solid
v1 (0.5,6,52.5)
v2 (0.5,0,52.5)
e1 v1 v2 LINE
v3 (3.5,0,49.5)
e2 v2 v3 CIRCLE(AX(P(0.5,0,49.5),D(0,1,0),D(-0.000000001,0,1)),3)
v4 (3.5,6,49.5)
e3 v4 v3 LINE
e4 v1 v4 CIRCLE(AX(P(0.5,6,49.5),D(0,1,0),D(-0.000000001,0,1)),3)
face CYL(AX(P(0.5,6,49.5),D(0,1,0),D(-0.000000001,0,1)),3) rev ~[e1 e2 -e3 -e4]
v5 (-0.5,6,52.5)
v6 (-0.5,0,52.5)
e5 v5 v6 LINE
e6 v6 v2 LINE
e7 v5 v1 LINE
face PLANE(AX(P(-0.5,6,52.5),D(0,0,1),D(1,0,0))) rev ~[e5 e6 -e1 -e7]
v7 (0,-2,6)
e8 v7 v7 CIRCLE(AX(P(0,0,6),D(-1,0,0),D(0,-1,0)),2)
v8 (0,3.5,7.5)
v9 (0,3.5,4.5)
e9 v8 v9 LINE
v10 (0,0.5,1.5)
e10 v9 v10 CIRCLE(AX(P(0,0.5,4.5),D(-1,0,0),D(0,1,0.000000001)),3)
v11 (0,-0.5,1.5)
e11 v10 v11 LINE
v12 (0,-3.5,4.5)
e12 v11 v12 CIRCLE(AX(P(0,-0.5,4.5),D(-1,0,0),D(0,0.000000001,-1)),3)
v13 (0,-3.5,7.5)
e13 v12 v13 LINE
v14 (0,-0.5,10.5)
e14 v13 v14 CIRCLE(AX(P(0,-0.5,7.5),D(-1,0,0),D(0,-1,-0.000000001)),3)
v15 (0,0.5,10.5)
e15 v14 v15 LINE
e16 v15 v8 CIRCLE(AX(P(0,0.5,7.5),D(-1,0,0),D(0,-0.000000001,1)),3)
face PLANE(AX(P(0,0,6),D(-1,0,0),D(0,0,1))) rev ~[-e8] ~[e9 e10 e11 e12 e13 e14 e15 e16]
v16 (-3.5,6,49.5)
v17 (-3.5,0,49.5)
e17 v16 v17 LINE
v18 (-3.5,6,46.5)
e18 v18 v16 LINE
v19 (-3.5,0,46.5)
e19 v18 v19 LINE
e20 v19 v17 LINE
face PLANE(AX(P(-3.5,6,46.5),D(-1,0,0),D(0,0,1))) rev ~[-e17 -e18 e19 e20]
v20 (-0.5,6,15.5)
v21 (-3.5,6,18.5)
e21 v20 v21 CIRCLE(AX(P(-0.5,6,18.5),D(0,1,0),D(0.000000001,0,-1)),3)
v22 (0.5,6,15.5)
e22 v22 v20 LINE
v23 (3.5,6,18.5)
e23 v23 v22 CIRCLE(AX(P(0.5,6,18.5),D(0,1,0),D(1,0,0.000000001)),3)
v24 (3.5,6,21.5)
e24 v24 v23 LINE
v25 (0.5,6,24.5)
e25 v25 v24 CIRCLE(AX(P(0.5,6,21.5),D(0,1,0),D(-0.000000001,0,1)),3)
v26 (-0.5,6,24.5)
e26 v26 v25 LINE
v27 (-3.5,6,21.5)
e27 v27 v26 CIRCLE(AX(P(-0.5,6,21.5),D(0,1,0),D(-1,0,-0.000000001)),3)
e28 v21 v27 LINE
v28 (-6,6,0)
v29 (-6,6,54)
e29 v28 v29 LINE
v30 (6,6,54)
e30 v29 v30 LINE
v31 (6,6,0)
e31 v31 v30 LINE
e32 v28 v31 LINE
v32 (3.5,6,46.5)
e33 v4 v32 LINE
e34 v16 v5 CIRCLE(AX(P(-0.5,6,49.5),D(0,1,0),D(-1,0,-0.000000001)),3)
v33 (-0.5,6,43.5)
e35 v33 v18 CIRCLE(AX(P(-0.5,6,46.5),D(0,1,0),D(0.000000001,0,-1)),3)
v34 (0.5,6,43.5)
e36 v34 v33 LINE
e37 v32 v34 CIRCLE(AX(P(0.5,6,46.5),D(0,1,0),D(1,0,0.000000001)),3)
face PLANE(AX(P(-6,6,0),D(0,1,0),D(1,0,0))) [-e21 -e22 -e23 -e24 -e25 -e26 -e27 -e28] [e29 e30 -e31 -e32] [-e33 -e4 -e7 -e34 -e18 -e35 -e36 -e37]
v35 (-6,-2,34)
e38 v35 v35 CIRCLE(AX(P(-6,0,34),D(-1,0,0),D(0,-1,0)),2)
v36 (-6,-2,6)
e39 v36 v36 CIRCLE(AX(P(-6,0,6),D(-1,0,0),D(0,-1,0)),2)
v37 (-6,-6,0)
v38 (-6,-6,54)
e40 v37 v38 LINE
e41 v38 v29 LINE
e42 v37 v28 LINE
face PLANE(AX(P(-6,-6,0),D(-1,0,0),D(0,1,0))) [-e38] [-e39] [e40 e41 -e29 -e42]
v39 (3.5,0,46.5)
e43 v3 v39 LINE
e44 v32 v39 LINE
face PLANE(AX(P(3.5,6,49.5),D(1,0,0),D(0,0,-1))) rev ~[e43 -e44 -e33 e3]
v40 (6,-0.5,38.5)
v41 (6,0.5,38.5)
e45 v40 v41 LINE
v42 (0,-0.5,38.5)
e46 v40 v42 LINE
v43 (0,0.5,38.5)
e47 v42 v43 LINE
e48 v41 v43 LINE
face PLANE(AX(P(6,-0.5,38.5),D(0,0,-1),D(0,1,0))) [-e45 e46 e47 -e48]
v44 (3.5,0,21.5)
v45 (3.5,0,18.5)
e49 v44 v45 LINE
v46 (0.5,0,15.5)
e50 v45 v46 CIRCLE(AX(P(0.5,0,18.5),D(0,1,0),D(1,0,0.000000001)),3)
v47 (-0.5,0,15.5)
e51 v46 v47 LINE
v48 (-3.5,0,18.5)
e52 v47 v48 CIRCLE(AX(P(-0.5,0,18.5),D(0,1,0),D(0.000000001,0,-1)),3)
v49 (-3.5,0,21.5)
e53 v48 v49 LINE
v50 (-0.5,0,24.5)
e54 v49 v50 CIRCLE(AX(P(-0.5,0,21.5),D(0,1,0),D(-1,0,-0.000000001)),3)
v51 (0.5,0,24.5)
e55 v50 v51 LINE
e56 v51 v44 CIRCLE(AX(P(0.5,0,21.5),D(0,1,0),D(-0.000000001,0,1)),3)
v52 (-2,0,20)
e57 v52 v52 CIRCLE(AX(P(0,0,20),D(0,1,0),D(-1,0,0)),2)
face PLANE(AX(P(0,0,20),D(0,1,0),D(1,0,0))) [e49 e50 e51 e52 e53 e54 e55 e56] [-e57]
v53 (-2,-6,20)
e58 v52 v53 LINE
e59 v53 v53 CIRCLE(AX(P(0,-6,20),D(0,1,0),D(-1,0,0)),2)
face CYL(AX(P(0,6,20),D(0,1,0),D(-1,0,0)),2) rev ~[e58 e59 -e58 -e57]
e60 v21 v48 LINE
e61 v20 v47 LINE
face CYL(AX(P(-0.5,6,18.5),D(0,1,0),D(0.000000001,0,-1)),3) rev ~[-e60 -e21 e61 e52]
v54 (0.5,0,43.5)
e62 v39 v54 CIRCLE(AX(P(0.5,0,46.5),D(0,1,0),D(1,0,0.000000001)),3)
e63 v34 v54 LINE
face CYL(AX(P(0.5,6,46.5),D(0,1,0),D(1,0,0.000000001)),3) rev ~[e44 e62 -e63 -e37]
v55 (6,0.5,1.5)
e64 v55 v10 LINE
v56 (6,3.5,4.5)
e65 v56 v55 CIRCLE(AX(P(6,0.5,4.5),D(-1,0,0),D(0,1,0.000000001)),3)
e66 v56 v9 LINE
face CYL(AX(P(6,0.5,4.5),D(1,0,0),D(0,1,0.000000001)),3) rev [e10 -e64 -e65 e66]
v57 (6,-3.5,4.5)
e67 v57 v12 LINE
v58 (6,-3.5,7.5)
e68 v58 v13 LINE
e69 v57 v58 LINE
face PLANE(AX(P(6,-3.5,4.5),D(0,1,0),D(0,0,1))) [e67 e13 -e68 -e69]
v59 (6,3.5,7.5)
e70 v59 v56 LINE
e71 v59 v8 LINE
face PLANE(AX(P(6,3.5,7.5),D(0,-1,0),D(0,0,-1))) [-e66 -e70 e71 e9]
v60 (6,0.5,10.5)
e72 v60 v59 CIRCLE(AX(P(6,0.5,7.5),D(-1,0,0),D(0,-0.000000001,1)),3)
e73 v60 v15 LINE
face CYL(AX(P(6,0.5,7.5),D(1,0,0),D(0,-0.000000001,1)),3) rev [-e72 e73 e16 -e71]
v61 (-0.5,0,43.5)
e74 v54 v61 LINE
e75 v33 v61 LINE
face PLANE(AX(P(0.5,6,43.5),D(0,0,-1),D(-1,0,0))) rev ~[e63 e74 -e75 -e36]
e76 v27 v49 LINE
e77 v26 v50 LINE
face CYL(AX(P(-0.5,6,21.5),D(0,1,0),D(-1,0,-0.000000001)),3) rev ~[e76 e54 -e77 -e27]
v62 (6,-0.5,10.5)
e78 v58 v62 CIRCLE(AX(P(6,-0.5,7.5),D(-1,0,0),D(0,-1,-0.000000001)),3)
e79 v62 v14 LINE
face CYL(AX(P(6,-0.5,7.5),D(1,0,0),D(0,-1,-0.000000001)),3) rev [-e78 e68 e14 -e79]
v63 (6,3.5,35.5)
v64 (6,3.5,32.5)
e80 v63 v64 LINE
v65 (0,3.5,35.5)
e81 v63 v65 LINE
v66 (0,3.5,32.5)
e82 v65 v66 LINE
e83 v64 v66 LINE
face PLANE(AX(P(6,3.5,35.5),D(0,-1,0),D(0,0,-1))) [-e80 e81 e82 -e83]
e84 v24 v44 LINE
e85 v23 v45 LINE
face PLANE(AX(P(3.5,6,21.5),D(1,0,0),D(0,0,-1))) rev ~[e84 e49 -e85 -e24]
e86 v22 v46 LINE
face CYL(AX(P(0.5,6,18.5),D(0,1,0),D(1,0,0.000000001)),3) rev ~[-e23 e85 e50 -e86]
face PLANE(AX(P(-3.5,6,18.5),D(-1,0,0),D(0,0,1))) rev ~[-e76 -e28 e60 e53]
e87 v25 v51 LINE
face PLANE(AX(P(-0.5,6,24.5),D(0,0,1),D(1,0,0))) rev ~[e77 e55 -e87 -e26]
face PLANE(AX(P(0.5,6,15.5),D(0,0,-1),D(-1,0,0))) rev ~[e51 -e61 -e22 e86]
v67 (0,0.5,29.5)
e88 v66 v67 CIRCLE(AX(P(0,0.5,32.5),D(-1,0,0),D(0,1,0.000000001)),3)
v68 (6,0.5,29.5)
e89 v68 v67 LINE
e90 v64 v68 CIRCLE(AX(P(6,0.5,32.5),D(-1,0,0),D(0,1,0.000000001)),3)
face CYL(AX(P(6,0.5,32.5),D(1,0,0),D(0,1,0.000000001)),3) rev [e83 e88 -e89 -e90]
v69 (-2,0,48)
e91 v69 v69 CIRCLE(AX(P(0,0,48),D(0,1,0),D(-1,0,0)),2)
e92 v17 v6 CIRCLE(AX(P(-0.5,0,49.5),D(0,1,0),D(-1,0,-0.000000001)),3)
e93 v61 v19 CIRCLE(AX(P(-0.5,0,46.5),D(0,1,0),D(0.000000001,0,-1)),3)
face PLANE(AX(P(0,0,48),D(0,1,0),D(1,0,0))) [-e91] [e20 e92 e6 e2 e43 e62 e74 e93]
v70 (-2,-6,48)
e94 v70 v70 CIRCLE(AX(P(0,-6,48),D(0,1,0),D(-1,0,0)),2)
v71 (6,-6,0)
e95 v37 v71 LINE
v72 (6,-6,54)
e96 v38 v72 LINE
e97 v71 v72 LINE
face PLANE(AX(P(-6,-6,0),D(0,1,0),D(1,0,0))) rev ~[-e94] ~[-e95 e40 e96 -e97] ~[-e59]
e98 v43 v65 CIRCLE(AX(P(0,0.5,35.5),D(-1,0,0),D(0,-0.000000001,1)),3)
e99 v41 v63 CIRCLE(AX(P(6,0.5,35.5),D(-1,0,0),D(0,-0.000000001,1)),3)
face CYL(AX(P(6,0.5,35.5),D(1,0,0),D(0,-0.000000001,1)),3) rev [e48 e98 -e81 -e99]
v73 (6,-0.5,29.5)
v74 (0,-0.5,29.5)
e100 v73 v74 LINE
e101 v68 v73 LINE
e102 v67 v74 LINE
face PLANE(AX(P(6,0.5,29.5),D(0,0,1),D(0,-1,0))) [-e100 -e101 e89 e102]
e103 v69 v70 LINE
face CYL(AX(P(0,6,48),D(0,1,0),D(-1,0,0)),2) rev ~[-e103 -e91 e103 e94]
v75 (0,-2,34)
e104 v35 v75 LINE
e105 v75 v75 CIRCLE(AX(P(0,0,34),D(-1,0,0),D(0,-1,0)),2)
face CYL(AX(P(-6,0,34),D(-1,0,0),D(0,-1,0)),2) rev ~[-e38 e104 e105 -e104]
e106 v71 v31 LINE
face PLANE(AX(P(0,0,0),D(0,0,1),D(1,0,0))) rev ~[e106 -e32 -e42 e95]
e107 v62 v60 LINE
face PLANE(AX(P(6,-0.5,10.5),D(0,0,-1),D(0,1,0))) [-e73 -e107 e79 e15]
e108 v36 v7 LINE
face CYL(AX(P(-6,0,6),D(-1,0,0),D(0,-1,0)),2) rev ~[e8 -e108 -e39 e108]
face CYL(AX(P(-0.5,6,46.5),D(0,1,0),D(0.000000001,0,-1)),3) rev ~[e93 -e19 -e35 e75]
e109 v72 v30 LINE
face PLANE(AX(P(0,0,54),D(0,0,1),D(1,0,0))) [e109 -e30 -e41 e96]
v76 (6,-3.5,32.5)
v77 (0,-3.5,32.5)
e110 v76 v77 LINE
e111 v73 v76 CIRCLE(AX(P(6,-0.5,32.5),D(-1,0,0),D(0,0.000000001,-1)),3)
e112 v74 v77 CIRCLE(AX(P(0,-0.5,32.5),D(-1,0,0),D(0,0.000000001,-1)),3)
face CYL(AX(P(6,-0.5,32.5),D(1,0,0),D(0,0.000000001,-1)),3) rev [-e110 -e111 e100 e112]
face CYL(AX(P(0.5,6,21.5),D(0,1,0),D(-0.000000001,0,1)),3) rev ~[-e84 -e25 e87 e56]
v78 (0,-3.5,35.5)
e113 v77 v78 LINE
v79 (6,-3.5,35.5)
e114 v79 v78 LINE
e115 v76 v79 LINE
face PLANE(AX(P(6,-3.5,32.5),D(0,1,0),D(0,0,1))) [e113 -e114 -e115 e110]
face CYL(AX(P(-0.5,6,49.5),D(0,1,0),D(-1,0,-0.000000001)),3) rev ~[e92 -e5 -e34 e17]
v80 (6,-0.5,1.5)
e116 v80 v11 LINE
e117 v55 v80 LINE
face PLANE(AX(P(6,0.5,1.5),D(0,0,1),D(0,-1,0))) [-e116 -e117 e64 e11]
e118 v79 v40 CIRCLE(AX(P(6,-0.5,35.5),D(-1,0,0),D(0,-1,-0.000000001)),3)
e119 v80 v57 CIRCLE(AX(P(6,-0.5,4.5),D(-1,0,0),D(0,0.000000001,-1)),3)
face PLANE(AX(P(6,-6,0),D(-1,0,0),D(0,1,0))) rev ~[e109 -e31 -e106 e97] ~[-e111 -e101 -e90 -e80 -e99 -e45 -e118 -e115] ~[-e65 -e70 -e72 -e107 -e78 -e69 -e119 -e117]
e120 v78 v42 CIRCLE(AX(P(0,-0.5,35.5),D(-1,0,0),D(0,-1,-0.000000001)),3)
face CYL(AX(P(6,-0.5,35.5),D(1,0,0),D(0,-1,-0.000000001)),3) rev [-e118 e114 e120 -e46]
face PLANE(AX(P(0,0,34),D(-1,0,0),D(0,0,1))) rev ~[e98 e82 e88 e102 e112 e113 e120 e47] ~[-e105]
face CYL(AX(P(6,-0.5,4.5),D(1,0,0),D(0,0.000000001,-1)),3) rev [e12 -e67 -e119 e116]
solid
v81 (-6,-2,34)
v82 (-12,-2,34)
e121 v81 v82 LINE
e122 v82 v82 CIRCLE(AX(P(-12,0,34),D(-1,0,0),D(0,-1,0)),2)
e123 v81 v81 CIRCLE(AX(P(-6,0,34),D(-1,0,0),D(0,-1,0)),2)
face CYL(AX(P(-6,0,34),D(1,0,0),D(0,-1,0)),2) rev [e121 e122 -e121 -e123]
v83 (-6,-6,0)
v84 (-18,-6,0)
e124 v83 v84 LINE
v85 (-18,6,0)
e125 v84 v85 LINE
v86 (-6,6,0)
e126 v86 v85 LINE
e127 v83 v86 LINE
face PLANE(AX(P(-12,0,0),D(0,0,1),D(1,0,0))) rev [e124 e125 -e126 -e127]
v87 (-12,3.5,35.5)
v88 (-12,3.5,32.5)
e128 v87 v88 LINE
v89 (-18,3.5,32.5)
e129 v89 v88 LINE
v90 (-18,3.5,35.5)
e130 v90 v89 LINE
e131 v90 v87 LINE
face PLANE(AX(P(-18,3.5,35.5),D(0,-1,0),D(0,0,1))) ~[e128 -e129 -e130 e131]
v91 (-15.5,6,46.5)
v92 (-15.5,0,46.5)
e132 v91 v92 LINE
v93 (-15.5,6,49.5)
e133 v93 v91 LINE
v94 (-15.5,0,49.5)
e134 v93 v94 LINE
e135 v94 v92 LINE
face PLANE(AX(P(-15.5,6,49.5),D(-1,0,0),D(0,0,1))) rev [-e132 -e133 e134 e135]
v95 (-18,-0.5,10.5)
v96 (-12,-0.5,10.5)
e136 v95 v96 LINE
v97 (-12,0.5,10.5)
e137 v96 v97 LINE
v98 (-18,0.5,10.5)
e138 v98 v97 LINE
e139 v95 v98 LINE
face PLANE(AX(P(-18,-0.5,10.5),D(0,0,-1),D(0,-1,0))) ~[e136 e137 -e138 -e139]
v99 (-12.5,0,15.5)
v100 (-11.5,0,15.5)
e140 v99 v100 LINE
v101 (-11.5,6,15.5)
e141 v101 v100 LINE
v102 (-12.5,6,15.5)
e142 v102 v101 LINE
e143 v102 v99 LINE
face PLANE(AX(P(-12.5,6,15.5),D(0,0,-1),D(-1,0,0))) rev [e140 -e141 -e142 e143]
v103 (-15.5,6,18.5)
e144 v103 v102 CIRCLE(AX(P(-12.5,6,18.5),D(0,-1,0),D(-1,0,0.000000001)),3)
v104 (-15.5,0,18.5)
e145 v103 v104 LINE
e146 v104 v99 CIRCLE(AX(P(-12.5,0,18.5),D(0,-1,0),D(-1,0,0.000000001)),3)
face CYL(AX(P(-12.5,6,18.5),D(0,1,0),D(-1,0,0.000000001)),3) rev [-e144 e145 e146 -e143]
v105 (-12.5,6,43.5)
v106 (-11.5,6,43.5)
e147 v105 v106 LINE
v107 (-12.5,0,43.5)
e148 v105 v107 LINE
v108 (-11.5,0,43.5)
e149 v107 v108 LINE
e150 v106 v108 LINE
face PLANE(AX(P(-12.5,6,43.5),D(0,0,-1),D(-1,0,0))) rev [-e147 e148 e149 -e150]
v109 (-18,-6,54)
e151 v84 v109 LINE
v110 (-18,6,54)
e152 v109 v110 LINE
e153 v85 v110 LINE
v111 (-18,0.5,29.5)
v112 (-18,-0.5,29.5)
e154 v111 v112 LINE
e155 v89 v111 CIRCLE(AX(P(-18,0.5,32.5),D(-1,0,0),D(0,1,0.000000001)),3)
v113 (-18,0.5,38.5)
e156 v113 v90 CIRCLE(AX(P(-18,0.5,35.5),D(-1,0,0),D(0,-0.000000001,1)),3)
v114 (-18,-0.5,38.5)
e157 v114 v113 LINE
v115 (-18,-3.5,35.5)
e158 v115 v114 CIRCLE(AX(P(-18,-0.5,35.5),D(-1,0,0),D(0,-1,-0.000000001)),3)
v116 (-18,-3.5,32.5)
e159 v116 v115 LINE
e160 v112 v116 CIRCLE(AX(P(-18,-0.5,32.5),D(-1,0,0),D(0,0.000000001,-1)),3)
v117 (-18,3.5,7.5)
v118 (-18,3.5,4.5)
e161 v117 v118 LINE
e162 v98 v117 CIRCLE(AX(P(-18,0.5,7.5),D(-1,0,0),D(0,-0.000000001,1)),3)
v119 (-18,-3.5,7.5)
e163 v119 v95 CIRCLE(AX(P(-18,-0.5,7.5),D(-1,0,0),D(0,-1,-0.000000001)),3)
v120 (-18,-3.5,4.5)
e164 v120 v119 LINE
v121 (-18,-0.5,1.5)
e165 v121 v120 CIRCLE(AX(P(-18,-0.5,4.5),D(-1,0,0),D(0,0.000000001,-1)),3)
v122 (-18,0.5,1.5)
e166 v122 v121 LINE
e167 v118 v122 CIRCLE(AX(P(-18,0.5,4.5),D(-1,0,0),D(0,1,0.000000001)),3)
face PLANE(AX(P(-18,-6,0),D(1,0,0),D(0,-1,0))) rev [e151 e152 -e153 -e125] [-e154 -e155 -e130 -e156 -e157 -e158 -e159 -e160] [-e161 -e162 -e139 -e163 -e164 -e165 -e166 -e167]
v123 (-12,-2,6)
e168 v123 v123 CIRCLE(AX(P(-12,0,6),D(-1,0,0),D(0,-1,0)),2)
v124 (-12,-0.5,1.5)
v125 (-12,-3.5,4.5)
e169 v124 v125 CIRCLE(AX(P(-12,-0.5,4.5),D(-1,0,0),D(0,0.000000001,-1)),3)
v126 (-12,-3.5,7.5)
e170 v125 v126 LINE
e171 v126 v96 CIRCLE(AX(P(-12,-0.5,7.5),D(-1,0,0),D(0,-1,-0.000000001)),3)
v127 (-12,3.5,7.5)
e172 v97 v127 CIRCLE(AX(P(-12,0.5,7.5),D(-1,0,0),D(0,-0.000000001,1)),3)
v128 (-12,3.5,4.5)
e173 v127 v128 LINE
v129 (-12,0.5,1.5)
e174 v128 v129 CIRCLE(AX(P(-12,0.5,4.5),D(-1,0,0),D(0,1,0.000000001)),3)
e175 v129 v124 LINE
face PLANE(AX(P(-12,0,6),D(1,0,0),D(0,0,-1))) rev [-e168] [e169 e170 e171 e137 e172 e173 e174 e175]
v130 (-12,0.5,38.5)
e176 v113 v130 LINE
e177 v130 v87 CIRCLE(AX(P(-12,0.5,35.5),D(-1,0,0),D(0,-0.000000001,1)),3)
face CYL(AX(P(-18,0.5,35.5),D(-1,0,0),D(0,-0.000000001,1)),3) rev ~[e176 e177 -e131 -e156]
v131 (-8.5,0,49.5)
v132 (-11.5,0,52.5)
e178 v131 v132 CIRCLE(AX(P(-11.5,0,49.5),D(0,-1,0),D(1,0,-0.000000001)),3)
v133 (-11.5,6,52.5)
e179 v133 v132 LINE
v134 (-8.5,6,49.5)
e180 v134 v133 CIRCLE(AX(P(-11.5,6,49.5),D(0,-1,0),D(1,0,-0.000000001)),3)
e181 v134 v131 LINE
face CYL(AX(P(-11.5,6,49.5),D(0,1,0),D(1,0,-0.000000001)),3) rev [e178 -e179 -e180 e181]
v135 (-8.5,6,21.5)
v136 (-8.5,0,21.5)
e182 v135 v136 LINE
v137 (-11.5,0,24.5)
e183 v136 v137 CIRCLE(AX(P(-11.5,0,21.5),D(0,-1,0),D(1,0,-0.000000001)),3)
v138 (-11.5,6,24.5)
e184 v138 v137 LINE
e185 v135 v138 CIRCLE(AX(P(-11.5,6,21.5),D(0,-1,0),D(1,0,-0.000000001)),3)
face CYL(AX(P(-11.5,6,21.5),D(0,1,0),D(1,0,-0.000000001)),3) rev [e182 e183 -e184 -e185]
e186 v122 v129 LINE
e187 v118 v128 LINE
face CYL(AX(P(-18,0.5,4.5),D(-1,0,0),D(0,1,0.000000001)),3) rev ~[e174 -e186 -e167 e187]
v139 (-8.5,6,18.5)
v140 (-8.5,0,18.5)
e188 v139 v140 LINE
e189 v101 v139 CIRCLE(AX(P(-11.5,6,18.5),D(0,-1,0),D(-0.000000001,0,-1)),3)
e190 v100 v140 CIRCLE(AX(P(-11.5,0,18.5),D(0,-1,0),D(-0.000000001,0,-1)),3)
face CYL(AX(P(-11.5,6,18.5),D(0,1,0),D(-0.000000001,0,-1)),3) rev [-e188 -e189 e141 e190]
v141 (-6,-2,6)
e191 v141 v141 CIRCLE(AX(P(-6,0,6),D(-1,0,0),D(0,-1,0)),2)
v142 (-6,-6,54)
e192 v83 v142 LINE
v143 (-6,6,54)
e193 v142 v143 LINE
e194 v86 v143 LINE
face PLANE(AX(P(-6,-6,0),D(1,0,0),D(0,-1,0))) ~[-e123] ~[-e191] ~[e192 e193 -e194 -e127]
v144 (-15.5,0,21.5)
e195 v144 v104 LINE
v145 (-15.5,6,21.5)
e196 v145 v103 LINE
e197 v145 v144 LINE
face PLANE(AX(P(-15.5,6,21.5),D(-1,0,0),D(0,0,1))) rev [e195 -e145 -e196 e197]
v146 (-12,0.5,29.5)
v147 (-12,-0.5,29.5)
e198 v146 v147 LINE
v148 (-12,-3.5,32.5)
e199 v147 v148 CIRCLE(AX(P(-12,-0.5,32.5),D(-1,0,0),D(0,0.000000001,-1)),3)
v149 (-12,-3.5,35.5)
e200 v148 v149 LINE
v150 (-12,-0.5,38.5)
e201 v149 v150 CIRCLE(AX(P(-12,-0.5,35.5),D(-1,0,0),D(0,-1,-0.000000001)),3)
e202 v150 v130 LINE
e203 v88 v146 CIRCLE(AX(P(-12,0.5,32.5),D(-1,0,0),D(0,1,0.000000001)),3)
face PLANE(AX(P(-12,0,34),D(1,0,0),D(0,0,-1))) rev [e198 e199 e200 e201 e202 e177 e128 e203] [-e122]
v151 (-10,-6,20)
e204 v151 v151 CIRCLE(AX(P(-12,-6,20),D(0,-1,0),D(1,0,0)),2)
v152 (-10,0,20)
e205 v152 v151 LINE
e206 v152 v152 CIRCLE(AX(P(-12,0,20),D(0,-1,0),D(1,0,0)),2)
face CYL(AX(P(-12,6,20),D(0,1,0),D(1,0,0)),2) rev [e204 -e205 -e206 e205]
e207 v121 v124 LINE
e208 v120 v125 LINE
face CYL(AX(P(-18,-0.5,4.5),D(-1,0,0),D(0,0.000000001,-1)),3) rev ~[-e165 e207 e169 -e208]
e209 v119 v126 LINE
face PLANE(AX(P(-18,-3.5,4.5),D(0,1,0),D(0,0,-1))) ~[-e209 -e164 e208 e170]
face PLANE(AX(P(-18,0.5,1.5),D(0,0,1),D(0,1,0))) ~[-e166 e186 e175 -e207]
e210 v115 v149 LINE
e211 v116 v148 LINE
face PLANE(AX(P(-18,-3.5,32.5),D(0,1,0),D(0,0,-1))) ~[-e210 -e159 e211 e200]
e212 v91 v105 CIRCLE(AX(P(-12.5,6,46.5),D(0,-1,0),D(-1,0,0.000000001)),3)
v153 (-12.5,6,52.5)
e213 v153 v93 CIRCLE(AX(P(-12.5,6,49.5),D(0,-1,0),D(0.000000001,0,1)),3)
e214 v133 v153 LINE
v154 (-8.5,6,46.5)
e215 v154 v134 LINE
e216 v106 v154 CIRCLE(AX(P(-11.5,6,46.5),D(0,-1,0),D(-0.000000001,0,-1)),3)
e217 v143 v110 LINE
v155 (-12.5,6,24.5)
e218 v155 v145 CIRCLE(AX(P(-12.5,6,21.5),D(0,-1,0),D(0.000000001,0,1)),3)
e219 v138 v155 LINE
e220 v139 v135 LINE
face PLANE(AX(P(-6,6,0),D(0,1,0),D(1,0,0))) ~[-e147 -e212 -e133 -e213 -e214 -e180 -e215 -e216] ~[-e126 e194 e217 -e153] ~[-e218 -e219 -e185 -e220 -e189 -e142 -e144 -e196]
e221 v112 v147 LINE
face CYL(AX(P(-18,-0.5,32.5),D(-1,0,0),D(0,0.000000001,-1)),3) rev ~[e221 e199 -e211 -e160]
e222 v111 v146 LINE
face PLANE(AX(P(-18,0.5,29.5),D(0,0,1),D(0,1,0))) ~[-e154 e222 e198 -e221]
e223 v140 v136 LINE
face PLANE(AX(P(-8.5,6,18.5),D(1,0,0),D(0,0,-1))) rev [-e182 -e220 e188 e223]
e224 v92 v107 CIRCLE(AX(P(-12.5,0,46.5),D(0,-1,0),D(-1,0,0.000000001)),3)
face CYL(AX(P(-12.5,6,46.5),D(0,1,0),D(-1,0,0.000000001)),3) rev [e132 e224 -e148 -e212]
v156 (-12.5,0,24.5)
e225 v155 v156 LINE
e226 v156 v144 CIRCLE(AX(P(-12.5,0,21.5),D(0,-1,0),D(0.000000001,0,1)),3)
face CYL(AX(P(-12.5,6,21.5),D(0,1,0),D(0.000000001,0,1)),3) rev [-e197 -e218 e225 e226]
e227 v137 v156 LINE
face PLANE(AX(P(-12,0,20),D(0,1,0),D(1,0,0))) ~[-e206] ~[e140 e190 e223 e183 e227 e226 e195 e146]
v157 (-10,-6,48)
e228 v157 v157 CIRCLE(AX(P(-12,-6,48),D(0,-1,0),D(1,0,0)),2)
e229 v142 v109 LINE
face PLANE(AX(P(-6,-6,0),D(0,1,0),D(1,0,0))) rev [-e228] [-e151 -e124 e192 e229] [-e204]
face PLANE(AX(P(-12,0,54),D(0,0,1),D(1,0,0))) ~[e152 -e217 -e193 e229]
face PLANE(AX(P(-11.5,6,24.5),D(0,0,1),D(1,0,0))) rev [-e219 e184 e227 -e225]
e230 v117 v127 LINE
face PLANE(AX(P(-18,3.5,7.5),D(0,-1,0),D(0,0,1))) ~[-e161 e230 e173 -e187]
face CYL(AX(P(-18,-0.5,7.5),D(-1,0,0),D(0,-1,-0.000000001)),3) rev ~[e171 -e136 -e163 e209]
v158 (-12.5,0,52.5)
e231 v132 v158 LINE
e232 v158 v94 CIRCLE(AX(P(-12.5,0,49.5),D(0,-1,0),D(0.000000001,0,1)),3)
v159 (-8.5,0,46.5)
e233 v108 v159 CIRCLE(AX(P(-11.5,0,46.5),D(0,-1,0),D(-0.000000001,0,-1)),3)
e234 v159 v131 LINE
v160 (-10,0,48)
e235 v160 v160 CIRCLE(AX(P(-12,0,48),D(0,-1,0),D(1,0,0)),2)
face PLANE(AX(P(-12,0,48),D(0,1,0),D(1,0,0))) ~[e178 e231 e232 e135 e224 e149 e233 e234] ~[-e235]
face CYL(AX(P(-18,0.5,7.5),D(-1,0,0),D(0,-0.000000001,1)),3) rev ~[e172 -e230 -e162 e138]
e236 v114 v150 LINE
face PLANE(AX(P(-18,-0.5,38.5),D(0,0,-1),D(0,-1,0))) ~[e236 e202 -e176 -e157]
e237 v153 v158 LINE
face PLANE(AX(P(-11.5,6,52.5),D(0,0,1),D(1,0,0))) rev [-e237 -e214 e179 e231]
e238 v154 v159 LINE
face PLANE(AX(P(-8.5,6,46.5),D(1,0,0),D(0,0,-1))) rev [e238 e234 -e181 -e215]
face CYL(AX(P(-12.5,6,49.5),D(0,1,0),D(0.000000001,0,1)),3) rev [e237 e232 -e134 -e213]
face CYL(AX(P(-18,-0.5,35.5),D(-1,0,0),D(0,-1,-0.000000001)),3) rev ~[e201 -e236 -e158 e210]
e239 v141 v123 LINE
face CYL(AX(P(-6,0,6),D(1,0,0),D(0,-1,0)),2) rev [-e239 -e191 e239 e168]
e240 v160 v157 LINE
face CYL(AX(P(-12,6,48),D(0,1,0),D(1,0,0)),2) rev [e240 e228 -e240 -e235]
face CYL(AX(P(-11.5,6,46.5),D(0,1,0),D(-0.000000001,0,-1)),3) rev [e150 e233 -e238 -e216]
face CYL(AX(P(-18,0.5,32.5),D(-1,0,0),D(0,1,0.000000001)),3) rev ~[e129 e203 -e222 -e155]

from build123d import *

# Parameters (mm, degrees)
SKETCH1_W           = 12
SKETCH1_H           = 12
BOSS_EXTRUDE1_DEPTH = 54
SKETCH2_R           = 2
CUT_EXTRUDE1_DEPTH  = 14
SKETCH3_R           = 2
CUT_EXTRUDE2_DEPTH  = 14
CUT_EXTRUDE3_DEPTH  = 6
CUT_EXTRUDE4_DEPTH  = 6


with BuildPart() as part:
    # Sketch1 → Boss-Extrude1 (new body)
    with BuildSketch(Plane.XY):
        Rectangle(SKETCH1_W, SKETCH1_H)
    extrude(amount=BOSS_EXTRUDE1_DEPTH)

    # Sketch2 → Cut-Extrude1 (cut)
    with BuildSketch(Plane(origin=(0, 6, 0), x_dir=(1, 0, 0), z_dir=(0, 1, 0))):
        with Locations(Location((0, -20, 0), (0, 0, 180))):
            Circle(SKETCH2_R)
        with Locations(Location((0, -48, 0), (0, 0, 180))):
            Circle(SKETCH2_R)
    extrude(amount=-CUT_EXTRUDE1_DEPTH, mode=Mode.SUBTRACT)

    # Sketch3 → Cut-Extrude2 (cut)
    with BuildSketch(Plane.ZY.offset(6)):
        with Locations(Location((34, 0, 0), (0, 0, 270))):
            Circle(SKETCH3_R)
        with Locations(Location((6, 0, 0), (0, 0, 270))):
            Circle(SKETCH3_R)
    extrude(amount=-CUT_EXTRUDE2_DEPTH, mode=Mode.SUBTRACT)

    # Sketch4 → Cut-Extrude3 (cut)
    with BuildSketch(Plane(origin=(6, 0, 0), x_dir=(0, 0, -1), z_dir=(1, 0, 0))):
        with BuildLine():
            Line((-4.5, -3.5), (-7.5, -3.5))
            ThreePointArc((-7.5, -3.5), (-9.621320344, -2.621320344), (-10.5, -0.5))
            Line((-10.5, -0.5), (-10.5, 0.5))
            ThreePointArc((-10.5, 0.5), (-9.621320344, 2.621320344), (-7.5, 3.5))
            Line((-7.5, 3.5), (-4.5, 3.5))
            ThreePointArc((-4.5, 3.5), (-2.378679656, 2.621320344), (-1.5, 0.5))
            Line((-1.5, 0.5), (-1.5, -0.5))
            ThreePointArc((-1.5, -0.5), (-2.378679656, -2.621320344), (-4.5, -3.5))
        make_face()
        with BuildLine():
            Line((-38.5, -0.5), (-38.5, 0.5))
            ThreePointArc((-38.5, 0.5), (-37.621320344, 2.621320344), (-35.5, 3.5))
            Line((-35.5, 3.5), (-32.5, 3.5))
            ThreePointArc((-32.5, 3.5), (-30.378679656, 2.621320344), (-29.5, 0.5))
            Line((-29.5, 0.5), (-29.5, -0.5))
            ThreePointArc((-29.5, -0.5), (-30.378679656, -2.621320344), (-32.5, -3.5))
            Line((-32.5, -3.5), (-35.5, -3.5))
            ThreePointArc((-35.5, -3.5), (-37.621320344, -2.621320344), (-38.5, -0.5))
        make_face()
    extrude(amount=-CUT_EXTRUDE3_DEPTH, mode=Mode.SUBTRACT)

    # Sketch5 → Cut-Extrude4 (cut)
    with BuildSketch(Plane(origin=(0, 6, 0), x_dir=(1, 0, 0), z_dir=(0, 1, 0))):
        with BuildLine():
            Line((-0.5, -52.5), (0.5, -52.5))
            ThreePointArc((0.5, -52.5), (2.621320344, -51.621320344), (3.5, -49.5))
            Line((3.5, -49.5), (3.5, -46.5))
            ThreePointArc((3.5, -46.5), (2.621320344, -44.378679656), (0.5, -43.5))
            Line((0.5, -43.5), (-0.5, -43.5))
            ThreePointArc((-0.5, -43.5), (-2.621320344, -44.378679656), (-3.5, -46.5))
            Line((-3.5, -46.5), (-3.5, -49.5))
            ThreePointArc((-3.5, -49.5), (-2.621320344, -51.621320344), (-0.5, -52.5))
        make_face()
        with BuildLine():
            Line((-0.5, -24.5), (0.5, -24.5))
            ThreePointArc((0.5, -24.5), (2.621320344, -23.621320344), (3.5, -21.5))
            Line((3.5, -21.5), (3.5, -18.5))
            ThreePointArc((3.5, -18.5), (2.621320344, -16.378679656), (0.5, -15.5))
            Line((0.5, -15.5), (-0.5, -15.5))
            ThreePointArc((-0.5, -15.5), (-2.621320344, -16.378679656), (-3.5, -18.5))
            Line((-3.5, -18.5), (-3.5, -21.5))
            ThreePointArc((-3.5, -21.5), (-2.621320344, -23.621320344), (-0.5, -24.5))
        make_face()
    extrude(amount=-CUT_EXTRUDE4_DEPTH, mode=Mode.SUBTRACT)


with BuildPart() as body_2:
    # Mirror3: mirrored copy
    add(part.part.mirror(Plane(origin=(-6, 6, 54), x_dir=(0, 0, 1), z_dir=(1, 0, 0))))


solid = Compound([part.part, body_2.part])
